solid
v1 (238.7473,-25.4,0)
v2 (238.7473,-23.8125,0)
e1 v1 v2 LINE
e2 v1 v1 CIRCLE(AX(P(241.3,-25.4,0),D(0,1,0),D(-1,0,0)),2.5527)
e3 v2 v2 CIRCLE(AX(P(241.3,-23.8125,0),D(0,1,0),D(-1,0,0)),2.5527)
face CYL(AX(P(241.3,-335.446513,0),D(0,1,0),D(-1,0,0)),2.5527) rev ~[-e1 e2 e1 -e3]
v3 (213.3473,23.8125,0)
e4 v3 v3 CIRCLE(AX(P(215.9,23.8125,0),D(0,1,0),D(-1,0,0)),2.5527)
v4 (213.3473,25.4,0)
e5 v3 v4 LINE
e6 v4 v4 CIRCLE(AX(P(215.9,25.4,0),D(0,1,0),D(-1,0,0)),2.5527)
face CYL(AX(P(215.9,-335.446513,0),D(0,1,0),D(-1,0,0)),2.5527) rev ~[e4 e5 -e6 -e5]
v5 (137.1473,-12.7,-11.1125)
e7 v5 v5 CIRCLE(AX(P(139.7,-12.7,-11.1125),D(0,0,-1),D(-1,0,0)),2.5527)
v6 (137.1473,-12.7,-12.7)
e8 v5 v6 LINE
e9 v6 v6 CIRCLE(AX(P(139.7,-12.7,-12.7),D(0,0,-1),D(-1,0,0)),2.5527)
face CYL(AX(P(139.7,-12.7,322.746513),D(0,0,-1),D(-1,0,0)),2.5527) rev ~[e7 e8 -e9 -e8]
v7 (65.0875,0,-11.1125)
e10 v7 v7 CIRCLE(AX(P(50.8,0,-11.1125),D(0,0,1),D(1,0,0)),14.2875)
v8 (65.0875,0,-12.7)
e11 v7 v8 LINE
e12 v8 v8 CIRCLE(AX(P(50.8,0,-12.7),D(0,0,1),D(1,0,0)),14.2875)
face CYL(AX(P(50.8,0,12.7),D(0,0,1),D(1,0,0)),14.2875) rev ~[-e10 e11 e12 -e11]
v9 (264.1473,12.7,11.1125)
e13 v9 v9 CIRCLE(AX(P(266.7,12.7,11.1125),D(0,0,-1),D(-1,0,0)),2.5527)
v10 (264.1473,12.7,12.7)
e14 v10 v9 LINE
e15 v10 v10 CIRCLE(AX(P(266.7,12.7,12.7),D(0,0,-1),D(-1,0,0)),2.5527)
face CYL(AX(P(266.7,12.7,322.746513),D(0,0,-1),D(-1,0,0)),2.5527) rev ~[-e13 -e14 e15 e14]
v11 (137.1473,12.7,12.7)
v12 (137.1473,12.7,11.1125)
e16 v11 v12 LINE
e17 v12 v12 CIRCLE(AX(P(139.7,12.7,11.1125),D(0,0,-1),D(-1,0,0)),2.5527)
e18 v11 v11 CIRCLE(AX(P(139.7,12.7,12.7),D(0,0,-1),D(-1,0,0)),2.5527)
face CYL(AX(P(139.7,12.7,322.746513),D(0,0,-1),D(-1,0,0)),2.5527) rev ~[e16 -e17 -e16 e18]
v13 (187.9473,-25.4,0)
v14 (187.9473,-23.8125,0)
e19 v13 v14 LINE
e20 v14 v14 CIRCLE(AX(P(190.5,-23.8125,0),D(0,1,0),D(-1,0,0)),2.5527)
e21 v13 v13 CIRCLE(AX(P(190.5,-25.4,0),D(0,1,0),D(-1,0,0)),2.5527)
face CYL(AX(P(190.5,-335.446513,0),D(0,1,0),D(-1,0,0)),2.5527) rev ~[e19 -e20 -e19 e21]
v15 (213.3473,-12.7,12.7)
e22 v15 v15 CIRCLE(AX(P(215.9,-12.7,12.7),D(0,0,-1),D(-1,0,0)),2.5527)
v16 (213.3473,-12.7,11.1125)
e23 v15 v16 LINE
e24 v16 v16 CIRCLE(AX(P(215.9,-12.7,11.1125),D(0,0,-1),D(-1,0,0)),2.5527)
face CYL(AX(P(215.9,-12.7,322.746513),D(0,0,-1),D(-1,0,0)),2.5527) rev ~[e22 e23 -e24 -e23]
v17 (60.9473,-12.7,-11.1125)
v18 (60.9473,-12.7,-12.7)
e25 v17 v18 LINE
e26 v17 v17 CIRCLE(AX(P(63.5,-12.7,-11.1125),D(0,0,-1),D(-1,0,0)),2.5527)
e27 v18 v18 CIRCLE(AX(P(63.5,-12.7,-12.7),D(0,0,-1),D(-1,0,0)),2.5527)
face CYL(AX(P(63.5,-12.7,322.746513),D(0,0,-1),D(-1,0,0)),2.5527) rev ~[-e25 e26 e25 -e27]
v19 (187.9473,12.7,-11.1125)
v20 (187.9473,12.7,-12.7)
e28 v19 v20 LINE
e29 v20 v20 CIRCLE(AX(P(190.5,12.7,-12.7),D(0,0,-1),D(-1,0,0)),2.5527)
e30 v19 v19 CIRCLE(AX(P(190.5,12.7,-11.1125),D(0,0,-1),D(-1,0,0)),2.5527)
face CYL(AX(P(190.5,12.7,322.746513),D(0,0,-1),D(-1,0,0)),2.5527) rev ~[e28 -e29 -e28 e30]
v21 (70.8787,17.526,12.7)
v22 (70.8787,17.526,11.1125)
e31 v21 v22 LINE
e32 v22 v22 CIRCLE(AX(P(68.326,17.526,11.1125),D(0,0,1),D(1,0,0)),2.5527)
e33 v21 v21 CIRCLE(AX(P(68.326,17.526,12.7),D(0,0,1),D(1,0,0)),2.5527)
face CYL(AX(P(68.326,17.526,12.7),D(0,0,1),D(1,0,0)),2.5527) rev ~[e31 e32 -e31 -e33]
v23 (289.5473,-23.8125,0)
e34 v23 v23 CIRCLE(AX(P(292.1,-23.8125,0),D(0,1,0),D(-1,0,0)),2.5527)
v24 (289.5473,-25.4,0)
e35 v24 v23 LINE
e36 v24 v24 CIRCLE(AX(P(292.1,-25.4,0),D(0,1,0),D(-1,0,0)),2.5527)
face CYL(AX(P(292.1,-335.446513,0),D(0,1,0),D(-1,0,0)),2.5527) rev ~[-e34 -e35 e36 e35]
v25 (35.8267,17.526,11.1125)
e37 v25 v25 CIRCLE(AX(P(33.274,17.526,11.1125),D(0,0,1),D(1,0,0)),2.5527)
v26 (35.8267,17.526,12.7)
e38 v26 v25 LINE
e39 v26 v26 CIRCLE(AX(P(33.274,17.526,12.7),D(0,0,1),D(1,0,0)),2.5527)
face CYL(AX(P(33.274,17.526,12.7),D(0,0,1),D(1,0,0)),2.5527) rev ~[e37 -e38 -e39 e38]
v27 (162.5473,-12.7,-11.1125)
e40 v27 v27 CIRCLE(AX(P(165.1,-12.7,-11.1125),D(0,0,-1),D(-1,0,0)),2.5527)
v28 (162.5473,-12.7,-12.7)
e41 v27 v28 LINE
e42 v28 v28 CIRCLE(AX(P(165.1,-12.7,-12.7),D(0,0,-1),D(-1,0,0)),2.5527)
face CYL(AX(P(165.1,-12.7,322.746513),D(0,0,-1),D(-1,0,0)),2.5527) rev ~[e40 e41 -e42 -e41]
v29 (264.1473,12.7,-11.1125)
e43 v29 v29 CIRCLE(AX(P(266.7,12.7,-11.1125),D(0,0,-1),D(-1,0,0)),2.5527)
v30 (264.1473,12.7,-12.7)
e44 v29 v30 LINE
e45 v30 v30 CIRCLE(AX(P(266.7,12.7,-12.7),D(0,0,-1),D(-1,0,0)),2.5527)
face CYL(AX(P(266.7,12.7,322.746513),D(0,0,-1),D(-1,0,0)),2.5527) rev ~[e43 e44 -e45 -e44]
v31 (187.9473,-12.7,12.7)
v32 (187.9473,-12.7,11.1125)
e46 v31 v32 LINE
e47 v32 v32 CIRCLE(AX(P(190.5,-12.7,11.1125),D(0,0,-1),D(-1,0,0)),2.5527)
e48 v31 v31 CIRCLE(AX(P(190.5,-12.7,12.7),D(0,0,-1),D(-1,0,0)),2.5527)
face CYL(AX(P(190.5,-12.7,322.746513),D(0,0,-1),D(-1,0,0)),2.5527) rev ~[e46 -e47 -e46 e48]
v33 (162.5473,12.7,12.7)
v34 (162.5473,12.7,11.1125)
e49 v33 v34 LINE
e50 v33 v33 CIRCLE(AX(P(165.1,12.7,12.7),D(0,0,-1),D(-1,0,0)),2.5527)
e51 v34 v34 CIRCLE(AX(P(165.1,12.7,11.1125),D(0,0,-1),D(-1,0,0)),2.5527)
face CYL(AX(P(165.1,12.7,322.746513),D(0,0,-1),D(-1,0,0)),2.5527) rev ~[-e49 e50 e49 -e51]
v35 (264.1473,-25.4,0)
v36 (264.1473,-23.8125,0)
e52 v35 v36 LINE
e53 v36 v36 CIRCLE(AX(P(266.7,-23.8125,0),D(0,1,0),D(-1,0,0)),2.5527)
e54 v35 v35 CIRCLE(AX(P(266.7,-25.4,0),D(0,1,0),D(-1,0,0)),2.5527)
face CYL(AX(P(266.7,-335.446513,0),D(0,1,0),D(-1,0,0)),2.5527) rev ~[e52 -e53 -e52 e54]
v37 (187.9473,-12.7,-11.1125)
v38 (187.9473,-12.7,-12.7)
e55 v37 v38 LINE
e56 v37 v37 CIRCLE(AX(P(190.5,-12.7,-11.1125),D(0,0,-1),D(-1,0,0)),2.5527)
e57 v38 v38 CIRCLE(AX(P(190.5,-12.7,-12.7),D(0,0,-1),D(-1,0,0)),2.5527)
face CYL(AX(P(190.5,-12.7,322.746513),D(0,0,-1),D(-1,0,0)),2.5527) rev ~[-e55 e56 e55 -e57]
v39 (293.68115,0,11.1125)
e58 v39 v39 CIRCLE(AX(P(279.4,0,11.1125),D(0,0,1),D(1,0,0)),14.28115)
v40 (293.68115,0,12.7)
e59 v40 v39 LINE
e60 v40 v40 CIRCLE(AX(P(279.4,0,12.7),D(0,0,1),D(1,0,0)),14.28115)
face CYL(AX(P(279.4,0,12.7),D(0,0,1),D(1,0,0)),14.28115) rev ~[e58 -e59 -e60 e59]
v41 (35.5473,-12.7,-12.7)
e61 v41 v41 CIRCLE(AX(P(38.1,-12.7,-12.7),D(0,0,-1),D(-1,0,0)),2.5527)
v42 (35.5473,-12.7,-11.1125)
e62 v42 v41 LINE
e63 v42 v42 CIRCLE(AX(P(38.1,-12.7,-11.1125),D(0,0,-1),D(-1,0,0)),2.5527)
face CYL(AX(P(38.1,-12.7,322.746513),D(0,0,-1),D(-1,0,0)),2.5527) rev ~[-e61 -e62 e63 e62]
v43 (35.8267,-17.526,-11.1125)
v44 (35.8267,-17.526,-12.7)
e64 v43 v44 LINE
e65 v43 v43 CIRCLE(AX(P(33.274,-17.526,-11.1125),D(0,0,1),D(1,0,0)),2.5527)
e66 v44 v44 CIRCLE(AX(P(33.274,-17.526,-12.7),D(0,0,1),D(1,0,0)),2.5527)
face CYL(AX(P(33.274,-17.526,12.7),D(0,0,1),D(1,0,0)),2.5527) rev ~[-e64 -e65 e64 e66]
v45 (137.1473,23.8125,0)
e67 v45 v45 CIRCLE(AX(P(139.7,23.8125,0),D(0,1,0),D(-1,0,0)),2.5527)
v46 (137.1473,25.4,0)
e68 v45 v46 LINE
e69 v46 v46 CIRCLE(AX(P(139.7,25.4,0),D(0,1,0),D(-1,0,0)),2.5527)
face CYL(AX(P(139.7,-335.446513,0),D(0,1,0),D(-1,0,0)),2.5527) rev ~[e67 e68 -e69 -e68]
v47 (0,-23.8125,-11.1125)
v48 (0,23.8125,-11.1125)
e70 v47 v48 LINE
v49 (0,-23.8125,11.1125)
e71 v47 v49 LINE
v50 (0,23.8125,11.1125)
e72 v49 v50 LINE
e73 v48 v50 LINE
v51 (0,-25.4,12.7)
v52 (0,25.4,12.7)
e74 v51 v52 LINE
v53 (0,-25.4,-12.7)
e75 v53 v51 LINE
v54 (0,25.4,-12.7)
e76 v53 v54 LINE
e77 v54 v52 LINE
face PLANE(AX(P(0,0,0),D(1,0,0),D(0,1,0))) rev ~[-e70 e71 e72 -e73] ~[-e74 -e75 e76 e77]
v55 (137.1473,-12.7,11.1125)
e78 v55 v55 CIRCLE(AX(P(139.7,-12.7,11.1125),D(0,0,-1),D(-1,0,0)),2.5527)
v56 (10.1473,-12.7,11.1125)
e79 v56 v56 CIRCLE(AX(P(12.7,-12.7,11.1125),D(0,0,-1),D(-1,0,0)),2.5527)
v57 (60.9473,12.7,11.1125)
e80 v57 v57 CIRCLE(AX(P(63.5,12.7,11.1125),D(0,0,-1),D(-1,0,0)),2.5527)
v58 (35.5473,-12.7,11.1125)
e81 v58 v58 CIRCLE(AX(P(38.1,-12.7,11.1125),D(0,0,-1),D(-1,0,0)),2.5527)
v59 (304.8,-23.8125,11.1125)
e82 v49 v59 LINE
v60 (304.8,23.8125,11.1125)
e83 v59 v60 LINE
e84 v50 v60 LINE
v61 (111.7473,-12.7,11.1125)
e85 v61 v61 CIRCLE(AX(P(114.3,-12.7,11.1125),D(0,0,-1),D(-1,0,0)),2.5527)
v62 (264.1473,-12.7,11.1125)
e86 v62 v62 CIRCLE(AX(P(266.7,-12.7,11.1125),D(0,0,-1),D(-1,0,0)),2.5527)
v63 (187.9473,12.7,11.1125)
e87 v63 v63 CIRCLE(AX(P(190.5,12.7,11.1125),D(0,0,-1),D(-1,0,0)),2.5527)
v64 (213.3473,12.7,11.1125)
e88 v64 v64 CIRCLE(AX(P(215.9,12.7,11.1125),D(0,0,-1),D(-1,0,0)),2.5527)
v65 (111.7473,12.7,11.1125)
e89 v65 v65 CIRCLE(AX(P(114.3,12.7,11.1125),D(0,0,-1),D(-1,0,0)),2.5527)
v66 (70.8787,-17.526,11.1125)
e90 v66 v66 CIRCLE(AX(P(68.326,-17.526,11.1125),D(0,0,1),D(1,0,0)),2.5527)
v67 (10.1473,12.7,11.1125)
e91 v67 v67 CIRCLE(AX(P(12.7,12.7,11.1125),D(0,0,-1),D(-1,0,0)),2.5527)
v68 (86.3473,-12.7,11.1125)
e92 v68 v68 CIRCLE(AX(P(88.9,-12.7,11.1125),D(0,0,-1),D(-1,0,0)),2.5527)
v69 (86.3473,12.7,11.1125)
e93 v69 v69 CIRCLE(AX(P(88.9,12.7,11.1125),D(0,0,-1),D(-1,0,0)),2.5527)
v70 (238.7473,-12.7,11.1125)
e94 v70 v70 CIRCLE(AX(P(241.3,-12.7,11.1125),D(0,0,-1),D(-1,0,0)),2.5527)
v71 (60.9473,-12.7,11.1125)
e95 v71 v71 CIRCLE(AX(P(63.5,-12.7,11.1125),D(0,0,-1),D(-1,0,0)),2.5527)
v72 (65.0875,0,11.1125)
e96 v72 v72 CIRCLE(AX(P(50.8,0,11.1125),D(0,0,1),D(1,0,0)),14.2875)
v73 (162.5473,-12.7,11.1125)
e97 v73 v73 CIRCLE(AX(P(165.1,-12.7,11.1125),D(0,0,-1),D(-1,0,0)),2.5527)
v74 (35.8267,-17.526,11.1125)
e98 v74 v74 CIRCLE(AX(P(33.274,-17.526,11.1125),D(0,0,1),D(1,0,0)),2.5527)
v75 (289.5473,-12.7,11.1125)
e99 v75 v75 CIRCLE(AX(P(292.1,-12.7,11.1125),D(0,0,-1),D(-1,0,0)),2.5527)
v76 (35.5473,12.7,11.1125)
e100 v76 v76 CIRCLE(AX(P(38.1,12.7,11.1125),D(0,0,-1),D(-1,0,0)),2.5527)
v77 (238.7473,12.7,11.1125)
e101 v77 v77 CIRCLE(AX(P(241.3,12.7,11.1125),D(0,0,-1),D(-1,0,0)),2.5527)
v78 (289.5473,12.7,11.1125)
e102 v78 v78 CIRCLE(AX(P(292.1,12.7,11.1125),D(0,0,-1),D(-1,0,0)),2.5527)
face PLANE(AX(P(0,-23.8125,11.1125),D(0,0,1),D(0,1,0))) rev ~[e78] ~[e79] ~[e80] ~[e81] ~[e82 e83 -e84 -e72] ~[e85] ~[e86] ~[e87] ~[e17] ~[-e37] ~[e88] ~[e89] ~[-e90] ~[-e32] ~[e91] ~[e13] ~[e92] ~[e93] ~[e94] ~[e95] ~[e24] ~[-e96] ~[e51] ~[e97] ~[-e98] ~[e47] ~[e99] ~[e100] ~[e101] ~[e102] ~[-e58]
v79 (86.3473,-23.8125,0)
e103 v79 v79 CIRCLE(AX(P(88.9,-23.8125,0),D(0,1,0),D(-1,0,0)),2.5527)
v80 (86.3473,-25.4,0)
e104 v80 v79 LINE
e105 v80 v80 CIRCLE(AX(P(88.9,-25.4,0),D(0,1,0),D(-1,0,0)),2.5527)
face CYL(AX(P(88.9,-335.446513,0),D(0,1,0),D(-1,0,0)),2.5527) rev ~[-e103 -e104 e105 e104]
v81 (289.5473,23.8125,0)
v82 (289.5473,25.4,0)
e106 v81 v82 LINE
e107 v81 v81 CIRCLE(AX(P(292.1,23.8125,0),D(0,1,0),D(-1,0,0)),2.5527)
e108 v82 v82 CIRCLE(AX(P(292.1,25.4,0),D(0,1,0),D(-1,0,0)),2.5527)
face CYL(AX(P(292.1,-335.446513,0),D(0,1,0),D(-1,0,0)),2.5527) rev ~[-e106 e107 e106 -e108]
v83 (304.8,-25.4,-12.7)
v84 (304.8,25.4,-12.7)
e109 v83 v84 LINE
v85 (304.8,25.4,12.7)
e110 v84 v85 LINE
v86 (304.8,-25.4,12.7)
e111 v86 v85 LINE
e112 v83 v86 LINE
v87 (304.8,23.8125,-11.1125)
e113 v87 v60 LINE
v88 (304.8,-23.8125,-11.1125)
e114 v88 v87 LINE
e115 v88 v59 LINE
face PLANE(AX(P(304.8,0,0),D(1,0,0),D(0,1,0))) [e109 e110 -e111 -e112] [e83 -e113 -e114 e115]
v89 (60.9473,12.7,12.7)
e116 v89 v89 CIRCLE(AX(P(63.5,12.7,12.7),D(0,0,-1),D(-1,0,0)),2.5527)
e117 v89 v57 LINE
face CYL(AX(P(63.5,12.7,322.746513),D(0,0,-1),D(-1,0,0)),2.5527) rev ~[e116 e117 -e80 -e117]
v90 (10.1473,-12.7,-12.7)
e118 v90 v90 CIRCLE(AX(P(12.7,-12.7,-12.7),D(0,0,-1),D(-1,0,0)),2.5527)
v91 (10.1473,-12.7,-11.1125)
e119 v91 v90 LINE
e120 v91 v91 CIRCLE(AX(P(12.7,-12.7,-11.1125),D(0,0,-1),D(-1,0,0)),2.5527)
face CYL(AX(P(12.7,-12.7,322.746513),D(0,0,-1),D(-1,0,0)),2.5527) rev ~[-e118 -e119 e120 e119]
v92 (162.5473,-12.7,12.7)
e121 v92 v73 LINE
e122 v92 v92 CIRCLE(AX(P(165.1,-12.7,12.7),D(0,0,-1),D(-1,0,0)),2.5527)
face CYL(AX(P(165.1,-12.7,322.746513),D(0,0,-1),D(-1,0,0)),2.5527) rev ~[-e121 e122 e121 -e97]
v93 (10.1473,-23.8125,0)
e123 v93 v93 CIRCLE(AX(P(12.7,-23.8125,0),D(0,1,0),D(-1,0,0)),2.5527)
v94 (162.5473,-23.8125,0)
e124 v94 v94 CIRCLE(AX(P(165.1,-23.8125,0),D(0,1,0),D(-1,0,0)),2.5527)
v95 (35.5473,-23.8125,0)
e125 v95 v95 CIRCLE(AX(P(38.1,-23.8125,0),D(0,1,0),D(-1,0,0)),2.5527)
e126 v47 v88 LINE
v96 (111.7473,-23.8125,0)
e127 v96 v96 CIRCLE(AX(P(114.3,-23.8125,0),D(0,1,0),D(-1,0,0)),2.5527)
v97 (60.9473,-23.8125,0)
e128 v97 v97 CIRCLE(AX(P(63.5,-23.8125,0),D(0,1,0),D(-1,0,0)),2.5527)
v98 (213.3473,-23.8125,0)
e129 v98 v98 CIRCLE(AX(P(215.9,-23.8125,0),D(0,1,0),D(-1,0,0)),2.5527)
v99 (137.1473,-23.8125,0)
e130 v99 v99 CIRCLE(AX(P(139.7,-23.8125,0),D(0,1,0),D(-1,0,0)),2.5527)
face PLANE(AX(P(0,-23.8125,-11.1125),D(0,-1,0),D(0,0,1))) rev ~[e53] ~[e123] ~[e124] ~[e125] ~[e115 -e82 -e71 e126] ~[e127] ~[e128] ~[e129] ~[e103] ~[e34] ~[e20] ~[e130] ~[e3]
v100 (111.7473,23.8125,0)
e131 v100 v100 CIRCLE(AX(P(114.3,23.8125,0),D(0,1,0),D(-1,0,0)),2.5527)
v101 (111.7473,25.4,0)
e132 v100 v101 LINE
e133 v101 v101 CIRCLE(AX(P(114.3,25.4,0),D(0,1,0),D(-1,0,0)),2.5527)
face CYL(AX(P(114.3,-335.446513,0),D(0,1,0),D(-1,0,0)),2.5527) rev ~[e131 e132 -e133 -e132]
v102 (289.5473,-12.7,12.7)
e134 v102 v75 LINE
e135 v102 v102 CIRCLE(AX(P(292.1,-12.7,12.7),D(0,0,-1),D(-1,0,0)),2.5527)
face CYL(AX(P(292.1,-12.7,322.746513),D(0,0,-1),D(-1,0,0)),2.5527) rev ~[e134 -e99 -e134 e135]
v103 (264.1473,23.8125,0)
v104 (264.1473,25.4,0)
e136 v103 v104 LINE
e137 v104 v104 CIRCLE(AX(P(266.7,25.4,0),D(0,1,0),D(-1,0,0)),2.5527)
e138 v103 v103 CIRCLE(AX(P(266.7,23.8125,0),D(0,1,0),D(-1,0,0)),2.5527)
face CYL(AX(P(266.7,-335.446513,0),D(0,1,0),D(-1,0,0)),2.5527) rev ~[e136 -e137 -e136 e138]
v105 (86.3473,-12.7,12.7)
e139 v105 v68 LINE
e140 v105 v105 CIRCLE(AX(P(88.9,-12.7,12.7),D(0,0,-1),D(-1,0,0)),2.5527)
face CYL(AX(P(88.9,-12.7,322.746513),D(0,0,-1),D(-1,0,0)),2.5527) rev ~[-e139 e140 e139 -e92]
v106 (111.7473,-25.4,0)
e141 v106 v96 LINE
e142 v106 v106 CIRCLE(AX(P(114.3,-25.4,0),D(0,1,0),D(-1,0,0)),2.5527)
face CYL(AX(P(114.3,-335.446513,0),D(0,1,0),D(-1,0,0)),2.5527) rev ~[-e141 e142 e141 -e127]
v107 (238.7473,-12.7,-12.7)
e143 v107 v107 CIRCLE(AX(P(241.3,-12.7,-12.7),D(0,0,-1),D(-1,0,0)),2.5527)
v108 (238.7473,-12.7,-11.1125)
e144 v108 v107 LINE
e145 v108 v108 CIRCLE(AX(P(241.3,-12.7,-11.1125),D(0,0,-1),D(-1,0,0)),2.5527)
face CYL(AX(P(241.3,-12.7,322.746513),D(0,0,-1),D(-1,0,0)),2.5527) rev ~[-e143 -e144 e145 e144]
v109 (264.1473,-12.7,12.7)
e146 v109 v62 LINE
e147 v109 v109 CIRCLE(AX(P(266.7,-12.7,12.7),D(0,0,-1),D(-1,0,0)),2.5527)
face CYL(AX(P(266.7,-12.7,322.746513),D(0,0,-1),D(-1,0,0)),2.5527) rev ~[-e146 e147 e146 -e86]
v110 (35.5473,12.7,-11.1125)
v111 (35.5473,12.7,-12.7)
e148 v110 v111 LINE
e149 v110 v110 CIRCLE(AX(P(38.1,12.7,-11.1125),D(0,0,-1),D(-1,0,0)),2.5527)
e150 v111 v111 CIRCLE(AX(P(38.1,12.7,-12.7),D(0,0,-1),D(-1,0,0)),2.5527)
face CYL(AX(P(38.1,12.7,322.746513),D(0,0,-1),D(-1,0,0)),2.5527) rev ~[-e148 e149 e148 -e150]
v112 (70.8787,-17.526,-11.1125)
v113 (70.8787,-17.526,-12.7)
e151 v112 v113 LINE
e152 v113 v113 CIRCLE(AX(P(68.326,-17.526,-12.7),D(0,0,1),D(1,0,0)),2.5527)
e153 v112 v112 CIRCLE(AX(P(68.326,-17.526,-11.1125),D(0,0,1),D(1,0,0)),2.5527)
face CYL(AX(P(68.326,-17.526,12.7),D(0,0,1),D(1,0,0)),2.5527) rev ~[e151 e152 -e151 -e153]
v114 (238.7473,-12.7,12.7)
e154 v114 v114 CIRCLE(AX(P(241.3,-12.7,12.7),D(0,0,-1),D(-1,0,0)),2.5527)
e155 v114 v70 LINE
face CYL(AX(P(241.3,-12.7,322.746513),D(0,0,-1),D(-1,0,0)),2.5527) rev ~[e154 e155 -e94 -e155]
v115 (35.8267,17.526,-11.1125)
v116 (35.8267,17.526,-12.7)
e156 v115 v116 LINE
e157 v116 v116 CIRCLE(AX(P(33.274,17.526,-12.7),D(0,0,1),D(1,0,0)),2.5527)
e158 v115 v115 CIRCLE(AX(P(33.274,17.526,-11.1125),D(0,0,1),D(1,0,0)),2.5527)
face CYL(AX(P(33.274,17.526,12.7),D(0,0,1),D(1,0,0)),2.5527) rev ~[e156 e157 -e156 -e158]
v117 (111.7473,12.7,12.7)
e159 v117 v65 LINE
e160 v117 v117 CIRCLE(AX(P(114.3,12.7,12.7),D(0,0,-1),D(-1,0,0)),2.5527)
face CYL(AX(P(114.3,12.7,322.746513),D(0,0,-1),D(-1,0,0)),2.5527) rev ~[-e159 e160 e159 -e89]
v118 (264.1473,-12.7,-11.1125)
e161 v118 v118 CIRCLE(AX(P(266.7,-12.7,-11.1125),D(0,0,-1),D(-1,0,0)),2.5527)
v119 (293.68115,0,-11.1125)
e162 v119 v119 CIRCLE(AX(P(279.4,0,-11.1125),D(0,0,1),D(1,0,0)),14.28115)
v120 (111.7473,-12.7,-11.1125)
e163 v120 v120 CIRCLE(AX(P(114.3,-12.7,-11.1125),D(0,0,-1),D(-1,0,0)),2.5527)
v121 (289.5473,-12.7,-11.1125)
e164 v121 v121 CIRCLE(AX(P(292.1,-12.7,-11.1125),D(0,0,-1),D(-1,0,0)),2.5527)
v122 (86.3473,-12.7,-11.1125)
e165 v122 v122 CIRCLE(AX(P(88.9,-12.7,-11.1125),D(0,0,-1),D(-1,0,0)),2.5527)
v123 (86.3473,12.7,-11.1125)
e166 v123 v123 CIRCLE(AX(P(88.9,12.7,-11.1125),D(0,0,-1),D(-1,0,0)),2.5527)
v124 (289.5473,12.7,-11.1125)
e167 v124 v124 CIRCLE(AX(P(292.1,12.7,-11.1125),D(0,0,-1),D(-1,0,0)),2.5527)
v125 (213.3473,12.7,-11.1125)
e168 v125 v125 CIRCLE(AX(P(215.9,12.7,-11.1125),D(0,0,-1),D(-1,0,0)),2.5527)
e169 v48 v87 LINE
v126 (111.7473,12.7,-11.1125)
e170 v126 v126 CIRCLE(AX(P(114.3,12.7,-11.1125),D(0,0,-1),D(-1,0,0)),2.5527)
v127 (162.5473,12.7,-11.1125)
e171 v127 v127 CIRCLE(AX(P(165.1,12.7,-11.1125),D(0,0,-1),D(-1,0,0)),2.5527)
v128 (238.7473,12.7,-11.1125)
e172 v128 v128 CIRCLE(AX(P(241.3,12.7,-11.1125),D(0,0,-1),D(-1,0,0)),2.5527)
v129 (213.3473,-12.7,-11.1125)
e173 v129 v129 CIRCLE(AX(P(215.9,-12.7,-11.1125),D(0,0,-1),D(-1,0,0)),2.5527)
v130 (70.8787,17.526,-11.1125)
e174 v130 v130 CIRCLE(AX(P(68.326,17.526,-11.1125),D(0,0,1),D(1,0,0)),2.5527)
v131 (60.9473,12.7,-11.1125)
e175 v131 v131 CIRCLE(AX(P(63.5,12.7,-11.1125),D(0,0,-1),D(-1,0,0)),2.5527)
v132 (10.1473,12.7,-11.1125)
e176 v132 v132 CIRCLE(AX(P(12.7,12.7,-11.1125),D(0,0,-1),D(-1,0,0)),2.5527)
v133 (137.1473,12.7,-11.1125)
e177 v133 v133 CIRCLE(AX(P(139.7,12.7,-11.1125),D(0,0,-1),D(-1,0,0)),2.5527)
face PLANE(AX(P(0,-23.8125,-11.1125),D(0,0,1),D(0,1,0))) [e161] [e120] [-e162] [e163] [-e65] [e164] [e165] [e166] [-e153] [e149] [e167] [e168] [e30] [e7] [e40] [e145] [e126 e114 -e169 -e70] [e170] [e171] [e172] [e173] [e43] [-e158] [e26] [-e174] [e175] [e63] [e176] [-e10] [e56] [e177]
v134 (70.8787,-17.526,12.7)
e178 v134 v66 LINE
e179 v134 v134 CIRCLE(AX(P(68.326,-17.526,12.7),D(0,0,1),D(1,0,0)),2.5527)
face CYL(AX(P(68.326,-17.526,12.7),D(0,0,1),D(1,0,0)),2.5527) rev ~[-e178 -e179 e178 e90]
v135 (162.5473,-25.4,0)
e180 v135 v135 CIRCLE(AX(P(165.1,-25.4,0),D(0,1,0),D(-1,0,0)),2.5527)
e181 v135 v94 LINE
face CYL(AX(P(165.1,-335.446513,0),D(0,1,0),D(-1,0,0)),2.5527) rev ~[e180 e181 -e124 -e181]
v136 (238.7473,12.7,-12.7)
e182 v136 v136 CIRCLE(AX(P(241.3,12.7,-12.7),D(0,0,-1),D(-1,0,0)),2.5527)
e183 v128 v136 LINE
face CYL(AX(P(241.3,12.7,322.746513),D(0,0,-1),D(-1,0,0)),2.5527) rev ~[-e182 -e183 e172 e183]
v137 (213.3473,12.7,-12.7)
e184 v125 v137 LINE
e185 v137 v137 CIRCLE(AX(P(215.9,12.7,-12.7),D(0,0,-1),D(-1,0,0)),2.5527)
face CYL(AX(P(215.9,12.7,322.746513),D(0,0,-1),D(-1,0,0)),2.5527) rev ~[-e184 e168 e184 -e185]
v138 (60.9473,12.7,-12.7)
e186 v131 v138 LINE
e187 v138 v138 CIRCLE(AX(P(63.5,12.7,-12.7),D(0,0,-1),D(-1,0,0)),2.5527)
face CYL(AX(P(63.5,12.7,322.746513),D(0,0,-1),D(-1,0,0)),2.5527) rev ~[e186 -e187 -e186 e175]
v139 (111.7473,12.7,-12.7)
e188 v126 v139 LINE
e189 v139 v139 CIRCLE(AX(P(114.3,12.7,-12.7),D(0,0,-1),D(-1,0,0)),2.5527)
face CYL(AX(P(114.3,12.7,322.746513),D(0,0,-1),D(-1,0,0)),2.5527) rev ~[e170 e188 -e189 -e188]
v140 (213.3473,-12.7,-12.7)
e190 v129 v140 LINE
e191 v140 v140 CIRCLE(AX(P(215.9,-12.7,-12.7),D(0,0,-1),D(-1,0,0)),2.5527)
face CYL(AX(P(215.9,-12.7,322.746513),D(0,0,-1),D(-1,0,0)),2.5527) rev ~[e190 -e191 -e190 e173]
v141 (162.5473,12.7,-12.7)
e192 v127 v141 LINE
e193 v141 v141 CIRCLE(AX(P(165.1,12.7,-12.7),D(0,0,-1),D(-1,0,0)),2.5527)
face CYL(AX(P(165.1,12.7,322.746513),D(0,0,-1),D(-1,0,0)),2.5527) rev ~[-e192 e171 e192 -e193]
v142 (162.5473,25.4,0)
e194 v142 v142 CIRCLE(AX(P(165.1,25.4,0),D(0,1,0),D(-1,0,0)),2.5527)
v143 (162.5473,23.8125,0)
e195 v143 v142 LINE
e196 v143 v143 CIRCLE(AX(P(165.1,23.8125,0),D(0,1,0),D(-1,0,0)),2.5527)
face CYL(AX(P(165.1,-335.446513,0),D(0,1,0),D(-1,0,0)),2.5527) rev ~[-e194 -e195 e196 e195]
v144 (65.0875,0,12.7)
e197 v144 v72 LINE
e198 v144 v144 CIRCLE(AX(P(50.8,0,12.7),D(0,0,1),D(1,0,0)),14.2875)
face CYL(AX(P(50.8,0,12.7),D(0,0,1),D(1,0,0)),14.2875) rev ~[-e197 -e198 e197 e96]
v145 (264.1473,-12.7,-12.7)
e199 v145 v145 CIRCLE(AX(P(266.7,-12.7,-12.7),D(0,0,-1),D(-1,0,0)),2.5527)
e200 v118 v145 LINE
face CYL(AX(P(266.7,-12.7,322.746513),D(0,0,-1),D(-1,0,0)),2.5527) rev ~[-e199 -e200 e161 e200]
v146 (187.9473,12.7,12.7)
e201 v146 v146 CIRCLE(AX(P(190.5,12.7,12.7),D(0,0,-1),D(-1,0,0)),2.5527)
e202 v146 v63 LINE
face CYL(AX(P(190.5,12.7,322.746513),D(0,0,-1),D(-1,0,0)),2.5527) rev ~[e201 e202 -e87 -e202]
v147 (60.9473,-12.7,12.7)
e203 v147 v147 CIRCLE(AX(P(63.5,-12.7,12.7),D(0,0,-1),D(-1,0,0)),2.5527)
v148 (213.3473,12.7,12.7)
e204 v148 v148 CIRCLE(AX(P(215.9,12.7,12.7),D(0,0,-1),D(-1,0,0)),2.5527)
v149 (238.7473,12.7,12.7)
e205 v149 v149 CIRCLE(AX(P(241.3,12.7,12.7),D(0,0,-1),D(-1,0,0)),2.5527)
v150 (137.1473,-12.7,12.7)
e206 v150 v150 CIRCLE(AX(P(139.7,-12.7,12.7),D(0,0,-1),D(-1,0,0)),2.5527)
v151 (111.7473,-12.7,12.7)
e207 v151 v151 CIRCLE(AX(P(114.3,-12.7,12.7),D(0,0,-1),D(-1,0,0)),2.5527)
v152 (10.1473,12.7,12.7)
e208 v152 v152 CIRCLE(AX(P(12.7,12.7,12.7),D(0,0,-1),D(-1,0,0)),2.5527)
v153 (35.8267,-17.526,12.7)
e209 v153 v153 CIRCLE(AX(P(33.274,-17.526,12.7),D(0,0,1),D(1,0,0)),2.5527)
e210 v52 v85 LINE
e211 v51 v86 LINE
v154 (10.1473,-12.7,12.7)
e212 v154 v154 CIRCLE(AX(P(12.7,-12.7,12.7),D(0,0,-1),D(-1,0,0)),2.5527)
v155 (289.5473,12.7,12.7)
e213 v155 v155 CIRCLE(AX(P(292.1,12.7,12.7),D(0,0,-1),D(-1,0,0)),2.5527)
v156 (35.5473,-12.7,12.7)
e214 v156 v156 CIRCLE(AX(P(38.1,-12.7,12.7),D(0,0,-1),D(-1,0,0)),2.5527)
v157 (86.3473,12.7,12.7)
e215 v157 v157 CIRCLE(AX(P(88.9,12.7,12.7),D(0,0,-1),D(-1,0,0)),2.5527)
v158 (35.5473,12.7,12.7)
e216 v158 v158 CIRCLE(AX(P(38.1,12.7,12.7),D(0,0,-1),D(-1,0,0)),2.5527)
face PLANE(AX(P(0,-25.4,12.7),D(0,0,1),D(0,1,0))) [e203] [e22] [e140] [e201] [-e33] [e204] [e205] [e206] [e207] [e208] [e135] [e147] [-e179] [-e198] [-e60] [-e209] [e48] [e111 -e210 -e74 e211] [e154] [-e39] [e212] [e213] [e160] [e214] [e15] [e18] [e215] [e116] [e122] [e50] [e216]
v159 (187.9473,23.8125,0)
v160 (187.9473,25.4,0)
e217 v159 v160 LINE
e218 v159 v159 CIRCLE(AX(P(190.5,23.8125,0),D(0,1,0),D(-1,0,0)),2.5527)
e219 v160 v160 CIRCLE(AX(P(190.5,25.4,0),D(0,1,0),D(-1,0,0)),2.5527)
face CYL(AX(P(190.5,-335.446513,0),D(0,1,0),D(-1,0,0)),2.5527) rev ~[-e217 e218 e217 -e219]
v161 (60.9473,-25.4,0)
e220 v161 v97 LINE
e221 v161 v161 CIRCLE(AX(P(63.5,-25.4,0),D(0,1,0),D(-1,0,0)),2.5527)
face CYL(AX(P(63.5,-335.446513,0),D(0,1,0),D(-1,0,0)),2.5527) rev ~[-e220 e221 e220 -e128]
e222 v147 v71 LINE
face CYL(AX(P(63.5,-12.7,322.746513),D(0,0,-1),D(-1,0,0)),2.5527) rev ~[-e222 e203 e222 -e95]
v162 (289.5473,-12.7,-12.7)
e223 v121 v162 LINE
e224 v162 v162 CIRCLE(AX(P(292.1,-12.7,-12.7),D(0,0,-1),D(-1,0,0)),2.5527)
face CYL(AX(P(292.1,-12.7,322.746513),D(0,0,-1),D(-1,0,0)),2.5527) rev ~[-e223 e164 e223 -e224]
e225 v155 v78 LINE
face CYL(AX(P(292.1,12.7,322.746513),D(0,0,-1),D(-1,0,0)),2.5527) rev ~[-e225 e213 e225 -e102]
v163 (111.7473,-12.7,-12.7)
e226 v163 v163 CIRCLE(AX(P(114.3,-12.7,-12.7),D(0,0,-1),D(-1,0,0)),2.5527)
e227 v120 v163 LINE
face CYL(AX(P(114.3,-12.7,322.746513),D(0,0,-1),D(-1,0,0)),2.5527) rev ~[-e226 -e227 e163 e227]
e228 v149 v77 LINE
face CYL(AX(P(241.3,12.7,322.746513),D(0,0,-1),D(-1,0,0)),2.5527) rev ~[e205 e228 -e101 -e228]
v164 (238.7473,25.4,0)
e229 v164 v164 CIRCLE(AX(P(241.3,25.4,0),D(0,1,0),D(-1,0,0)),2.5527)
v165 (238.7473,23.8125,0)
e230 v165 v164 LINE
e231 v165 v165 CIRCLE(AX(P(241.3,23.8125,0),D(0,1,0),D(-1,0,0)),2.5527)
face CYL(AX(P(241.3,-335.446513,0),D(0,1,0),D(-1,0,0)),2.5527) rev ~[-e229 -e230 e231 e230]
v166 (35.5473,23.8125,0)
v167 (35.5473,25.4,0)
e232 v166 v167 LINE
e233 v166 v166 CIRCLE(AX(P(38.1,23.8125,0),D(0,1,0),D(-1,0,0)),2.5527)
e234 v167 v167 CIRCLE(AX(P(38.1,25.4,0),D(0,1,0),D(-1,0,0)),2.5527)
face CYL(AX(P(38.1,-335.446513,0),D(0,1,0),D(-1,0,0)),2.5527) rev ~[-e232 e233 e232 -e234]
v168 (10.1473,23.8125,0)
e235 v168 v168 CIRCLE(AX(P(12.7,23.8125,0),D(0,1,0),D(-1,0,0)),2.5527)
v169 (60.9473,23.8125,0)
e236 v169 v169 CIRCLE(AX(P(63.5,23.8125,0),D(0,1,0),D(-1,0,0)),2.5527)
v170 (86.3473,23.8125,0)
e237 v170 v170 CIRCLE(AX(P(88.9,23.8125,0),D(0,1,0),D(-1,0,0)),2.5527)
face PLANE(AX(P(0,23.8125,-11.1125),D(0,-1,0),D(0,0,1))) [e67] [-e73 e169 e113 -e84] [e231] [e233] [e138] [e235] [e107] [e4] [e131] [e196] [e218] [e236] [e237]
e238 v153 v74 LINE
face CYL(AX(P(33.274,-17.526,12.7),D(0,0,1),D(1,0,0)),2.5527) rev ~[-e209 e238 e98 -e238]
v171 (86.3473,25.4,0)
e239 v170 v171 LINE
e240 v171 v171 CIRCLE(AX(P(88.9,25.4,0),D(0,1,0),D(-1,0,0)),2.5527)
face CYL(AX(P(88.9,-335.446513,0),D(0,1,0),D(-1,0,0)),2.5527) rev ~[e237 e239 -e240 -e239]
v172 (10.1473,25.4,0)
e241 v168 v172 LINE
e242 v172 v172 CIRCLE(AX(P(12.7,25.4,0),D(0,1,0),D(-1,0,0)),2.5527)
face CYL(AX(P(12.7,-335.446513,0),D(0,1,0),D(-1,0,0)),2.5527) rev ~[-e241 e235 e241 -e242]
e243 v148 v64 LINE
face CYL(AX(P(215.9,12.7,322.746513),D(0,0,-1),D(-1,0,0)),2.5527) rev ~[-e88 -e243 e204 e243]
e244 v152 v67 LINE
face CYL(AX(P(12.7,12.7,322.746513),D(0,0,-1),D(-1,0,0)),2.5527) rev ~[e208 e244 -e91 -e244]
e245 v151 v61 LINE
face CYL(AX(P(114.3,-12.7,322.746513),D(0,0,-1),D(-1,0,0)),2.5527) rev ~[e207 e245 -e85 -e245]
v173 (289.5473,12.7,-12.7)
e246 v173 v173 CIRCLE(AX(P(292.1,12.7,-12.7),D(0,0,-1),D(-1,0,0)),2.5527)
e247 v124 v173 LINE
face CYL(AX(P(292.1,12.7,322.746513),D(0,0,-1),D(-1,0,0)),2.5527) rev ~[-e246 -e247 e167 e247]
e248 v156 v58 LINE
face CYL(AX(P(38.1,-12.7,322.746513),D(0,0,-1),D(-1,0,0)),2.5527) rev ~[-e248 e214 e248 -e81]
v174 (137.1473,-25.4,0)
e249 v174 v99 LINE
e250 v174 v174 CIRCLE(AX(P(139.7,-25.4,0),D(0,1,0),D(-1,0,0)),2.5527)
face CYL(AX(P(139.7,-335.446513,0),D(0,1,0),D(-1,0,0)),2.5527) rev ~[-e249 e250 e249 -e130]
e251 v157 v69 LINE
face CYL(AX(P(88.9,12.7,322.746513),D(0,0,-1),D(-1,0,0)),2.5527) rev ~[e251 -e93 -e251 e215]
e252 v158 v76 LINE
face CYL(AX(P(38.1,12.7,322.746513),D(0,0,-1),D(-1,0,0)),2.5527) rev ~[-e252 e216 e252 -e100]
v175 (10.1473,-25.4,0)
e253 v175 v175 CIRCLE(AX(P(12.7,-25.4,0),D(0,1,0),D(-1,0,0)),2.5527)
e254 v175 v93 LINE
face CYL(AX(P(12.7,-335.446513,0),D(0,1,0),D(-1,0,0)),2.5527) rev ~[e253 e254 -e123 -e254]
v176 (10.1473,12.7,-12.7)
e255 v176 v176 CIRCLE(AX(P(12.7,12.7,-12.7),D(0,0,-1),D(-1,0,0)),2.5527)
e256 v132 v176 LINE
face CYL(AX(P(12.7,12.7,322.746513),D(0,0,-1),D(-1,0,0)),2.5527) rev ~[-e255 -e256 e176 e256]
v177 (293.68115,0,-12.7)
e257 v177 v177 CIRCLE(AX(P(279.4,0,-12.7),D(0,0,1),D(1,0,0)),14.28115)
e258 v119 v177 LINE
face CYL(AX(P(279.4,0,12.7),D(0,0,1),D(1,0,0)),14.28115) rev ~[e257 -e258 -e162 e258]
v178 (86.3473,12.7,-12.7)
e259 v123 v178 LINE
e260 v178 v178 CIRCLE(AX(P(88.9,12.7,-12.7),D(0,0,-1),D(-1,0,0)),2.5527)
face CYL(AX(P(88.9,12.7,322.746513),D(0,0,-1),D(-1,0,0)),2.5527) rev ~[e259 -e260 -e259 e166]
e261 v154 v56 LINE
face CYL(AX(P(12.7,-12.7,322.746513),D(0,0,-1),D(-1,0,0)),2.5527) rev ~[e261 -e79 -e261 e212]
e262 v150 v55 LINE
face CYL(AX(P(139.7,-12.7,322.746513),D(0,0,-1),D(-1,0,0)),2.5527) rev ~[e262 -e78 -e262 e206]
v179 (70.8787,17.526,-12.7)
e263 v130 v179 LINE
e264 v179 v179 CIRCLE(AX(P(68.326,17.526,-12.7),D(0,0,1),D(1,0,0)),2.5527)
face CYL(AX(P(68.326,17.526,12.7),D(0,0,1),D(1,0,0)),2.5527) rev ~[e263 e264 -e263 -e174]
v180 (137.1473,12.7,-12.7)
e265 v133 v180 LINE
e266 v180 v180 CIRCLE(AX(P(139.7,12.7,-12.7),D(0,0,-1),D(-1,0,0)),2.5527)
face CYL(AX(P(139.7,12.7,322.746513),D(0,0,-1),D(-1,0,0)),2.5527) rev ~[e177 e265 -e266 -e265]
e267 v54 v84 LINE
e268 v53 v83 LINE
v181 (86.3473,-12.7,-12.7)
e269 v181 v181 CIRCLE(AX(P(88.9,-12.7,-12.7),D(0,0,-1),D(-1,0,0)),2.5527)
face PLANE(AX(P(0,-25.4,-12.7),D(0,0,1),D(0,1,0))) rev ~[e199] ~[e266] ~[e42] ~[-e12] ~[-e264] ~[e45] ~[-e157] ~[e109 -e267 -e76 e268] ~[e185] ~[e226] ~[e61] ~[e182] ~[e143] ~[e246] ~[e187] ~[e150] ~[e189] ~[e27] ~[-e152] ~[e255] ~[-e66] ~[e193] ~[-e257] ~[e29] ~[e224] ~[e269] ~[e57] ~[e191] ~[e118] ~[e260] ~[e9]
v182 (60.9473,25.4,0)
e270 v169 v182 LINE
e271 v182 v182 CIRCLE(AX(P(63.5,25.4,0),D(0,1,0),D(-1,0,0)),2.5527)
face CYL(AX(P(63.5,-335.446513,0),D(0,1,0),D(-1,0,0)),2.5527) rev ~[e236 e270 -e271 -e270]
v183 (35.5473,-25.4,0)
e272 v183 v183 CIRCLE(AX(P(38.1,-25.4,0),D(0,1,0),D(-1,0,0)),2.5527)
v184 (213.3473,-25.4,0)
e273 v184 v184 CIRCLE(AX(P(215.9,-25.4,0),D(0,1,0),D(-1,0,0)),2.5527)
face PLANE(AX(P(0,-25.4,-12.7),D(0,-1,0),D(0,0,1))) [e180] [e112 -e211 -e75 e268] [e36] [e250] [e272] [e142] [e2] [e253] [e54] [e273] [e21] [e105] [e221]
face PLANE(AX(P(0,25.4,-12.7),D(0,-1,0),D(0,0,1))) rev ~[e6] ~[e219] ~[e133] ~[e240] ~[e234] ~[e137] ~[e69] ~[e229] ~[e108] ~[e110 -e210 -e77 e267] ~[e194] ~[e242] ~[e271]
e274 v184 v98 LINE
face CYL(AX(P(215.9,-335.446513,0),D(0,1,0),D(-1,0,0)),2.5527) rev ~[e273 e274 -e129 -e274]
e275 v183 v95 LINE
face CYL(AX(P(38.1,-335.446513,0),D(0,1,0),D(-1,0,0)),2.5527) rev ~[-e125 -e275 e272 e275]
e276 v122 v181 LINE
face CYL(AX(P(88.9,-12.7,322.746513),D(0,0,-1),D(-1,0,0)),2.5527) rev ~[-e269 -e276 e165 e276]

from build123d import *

# Parameters (mm, degrees)
F0_W     = 50.8
F0_H     = 25.4
F0_W_2   = 47.625
F0_H_2   = 22.225
F1_DEPTH = 304.8
F2_R     = 14.28115
F3_DEPTH = 25.401
F4_R     = 14.2875
F4_R_2   = 2.5527
F5_DEPTH = 25.401
F7_D     = 5.1054
F9_D     = 5.1054


with BuildPart() as f1:
    # F0 (on Right) → F1 (new body)
    with BuildSketch(Plane.YZ):
        Rectangle(F0_W, F0_H)
        Rectangle(F0_W_2, F0_H_2, mode=Mode.SUBTRACT)
    extrude(amount=F1_DEPTH)

    # F2 (on face) → F3 (cut, through all)
    with BuildSketch(Plane.XY.offset(12.7)):
        with Locations((279.4, 0)):
            Circle(F2_R)
    extrude(amount=-F3_DEPTH, mode=Mode.SUBTRACT)

    # F4 (on face) → F5 (cut, through all)
    with BuildSketch(Plane.XY.offset(12.7)):
        with Locations((50.8, 0)):
            Circle(F4_R)
        with Locations((68.326, 17.526)):
            Circle(F4_R_2)
        with Locations((68.326, -17.526)):
            Circle(F4_R_2)
        with Locations((33.274, -17.526)):
            Circle(F4_R_2)
        with Locations((33.274, 17.526)):
            Circle(F4_R_2)
    extrude(amount=-F5_DEPTH, mode=Mode.SUBTRACT)

    # F7 (through all)
    with Locations(Plane.XZ.offset(25.4)):
        with Locations((165.1, 0), (139.7, 0), (63.5, 0), (114.3, 0), (266.7, 0), (88.9, 0), (12.7, 0), (190.5, 0), (241.3, 0), (215.9, 0), (292.1, 0), (38.1, 0)):
            Hole(F7_D / 2)

    # F9 (through all)
    with Locations(Plane.XY.offset(12.7)):
        with Locations((88.9, 12.7), (165.1, -12.7), (241.3, -12.7), (139.7, -12.7), (38.1, 12.7), (165.1, 12.7), (215.9, -12.7), (292.1, 12.7), (266.7, -12.7), (63.5, -12.7), (88.9, -12.7), (266.7, 12.7), (241.3, 12.7), (63.5, 12.7), (38.1, -12.7), (190.5, 12.7), (12.7, 12.7), (12.7, -12.7), (114.3, -12.7), (114.3, 12.7), (292.1, -12.7), (139.7, 12.7), (190.5, -12.7), (215.9, 12.7)):
            Hole(F9_D / 2)


solid = f1.part
